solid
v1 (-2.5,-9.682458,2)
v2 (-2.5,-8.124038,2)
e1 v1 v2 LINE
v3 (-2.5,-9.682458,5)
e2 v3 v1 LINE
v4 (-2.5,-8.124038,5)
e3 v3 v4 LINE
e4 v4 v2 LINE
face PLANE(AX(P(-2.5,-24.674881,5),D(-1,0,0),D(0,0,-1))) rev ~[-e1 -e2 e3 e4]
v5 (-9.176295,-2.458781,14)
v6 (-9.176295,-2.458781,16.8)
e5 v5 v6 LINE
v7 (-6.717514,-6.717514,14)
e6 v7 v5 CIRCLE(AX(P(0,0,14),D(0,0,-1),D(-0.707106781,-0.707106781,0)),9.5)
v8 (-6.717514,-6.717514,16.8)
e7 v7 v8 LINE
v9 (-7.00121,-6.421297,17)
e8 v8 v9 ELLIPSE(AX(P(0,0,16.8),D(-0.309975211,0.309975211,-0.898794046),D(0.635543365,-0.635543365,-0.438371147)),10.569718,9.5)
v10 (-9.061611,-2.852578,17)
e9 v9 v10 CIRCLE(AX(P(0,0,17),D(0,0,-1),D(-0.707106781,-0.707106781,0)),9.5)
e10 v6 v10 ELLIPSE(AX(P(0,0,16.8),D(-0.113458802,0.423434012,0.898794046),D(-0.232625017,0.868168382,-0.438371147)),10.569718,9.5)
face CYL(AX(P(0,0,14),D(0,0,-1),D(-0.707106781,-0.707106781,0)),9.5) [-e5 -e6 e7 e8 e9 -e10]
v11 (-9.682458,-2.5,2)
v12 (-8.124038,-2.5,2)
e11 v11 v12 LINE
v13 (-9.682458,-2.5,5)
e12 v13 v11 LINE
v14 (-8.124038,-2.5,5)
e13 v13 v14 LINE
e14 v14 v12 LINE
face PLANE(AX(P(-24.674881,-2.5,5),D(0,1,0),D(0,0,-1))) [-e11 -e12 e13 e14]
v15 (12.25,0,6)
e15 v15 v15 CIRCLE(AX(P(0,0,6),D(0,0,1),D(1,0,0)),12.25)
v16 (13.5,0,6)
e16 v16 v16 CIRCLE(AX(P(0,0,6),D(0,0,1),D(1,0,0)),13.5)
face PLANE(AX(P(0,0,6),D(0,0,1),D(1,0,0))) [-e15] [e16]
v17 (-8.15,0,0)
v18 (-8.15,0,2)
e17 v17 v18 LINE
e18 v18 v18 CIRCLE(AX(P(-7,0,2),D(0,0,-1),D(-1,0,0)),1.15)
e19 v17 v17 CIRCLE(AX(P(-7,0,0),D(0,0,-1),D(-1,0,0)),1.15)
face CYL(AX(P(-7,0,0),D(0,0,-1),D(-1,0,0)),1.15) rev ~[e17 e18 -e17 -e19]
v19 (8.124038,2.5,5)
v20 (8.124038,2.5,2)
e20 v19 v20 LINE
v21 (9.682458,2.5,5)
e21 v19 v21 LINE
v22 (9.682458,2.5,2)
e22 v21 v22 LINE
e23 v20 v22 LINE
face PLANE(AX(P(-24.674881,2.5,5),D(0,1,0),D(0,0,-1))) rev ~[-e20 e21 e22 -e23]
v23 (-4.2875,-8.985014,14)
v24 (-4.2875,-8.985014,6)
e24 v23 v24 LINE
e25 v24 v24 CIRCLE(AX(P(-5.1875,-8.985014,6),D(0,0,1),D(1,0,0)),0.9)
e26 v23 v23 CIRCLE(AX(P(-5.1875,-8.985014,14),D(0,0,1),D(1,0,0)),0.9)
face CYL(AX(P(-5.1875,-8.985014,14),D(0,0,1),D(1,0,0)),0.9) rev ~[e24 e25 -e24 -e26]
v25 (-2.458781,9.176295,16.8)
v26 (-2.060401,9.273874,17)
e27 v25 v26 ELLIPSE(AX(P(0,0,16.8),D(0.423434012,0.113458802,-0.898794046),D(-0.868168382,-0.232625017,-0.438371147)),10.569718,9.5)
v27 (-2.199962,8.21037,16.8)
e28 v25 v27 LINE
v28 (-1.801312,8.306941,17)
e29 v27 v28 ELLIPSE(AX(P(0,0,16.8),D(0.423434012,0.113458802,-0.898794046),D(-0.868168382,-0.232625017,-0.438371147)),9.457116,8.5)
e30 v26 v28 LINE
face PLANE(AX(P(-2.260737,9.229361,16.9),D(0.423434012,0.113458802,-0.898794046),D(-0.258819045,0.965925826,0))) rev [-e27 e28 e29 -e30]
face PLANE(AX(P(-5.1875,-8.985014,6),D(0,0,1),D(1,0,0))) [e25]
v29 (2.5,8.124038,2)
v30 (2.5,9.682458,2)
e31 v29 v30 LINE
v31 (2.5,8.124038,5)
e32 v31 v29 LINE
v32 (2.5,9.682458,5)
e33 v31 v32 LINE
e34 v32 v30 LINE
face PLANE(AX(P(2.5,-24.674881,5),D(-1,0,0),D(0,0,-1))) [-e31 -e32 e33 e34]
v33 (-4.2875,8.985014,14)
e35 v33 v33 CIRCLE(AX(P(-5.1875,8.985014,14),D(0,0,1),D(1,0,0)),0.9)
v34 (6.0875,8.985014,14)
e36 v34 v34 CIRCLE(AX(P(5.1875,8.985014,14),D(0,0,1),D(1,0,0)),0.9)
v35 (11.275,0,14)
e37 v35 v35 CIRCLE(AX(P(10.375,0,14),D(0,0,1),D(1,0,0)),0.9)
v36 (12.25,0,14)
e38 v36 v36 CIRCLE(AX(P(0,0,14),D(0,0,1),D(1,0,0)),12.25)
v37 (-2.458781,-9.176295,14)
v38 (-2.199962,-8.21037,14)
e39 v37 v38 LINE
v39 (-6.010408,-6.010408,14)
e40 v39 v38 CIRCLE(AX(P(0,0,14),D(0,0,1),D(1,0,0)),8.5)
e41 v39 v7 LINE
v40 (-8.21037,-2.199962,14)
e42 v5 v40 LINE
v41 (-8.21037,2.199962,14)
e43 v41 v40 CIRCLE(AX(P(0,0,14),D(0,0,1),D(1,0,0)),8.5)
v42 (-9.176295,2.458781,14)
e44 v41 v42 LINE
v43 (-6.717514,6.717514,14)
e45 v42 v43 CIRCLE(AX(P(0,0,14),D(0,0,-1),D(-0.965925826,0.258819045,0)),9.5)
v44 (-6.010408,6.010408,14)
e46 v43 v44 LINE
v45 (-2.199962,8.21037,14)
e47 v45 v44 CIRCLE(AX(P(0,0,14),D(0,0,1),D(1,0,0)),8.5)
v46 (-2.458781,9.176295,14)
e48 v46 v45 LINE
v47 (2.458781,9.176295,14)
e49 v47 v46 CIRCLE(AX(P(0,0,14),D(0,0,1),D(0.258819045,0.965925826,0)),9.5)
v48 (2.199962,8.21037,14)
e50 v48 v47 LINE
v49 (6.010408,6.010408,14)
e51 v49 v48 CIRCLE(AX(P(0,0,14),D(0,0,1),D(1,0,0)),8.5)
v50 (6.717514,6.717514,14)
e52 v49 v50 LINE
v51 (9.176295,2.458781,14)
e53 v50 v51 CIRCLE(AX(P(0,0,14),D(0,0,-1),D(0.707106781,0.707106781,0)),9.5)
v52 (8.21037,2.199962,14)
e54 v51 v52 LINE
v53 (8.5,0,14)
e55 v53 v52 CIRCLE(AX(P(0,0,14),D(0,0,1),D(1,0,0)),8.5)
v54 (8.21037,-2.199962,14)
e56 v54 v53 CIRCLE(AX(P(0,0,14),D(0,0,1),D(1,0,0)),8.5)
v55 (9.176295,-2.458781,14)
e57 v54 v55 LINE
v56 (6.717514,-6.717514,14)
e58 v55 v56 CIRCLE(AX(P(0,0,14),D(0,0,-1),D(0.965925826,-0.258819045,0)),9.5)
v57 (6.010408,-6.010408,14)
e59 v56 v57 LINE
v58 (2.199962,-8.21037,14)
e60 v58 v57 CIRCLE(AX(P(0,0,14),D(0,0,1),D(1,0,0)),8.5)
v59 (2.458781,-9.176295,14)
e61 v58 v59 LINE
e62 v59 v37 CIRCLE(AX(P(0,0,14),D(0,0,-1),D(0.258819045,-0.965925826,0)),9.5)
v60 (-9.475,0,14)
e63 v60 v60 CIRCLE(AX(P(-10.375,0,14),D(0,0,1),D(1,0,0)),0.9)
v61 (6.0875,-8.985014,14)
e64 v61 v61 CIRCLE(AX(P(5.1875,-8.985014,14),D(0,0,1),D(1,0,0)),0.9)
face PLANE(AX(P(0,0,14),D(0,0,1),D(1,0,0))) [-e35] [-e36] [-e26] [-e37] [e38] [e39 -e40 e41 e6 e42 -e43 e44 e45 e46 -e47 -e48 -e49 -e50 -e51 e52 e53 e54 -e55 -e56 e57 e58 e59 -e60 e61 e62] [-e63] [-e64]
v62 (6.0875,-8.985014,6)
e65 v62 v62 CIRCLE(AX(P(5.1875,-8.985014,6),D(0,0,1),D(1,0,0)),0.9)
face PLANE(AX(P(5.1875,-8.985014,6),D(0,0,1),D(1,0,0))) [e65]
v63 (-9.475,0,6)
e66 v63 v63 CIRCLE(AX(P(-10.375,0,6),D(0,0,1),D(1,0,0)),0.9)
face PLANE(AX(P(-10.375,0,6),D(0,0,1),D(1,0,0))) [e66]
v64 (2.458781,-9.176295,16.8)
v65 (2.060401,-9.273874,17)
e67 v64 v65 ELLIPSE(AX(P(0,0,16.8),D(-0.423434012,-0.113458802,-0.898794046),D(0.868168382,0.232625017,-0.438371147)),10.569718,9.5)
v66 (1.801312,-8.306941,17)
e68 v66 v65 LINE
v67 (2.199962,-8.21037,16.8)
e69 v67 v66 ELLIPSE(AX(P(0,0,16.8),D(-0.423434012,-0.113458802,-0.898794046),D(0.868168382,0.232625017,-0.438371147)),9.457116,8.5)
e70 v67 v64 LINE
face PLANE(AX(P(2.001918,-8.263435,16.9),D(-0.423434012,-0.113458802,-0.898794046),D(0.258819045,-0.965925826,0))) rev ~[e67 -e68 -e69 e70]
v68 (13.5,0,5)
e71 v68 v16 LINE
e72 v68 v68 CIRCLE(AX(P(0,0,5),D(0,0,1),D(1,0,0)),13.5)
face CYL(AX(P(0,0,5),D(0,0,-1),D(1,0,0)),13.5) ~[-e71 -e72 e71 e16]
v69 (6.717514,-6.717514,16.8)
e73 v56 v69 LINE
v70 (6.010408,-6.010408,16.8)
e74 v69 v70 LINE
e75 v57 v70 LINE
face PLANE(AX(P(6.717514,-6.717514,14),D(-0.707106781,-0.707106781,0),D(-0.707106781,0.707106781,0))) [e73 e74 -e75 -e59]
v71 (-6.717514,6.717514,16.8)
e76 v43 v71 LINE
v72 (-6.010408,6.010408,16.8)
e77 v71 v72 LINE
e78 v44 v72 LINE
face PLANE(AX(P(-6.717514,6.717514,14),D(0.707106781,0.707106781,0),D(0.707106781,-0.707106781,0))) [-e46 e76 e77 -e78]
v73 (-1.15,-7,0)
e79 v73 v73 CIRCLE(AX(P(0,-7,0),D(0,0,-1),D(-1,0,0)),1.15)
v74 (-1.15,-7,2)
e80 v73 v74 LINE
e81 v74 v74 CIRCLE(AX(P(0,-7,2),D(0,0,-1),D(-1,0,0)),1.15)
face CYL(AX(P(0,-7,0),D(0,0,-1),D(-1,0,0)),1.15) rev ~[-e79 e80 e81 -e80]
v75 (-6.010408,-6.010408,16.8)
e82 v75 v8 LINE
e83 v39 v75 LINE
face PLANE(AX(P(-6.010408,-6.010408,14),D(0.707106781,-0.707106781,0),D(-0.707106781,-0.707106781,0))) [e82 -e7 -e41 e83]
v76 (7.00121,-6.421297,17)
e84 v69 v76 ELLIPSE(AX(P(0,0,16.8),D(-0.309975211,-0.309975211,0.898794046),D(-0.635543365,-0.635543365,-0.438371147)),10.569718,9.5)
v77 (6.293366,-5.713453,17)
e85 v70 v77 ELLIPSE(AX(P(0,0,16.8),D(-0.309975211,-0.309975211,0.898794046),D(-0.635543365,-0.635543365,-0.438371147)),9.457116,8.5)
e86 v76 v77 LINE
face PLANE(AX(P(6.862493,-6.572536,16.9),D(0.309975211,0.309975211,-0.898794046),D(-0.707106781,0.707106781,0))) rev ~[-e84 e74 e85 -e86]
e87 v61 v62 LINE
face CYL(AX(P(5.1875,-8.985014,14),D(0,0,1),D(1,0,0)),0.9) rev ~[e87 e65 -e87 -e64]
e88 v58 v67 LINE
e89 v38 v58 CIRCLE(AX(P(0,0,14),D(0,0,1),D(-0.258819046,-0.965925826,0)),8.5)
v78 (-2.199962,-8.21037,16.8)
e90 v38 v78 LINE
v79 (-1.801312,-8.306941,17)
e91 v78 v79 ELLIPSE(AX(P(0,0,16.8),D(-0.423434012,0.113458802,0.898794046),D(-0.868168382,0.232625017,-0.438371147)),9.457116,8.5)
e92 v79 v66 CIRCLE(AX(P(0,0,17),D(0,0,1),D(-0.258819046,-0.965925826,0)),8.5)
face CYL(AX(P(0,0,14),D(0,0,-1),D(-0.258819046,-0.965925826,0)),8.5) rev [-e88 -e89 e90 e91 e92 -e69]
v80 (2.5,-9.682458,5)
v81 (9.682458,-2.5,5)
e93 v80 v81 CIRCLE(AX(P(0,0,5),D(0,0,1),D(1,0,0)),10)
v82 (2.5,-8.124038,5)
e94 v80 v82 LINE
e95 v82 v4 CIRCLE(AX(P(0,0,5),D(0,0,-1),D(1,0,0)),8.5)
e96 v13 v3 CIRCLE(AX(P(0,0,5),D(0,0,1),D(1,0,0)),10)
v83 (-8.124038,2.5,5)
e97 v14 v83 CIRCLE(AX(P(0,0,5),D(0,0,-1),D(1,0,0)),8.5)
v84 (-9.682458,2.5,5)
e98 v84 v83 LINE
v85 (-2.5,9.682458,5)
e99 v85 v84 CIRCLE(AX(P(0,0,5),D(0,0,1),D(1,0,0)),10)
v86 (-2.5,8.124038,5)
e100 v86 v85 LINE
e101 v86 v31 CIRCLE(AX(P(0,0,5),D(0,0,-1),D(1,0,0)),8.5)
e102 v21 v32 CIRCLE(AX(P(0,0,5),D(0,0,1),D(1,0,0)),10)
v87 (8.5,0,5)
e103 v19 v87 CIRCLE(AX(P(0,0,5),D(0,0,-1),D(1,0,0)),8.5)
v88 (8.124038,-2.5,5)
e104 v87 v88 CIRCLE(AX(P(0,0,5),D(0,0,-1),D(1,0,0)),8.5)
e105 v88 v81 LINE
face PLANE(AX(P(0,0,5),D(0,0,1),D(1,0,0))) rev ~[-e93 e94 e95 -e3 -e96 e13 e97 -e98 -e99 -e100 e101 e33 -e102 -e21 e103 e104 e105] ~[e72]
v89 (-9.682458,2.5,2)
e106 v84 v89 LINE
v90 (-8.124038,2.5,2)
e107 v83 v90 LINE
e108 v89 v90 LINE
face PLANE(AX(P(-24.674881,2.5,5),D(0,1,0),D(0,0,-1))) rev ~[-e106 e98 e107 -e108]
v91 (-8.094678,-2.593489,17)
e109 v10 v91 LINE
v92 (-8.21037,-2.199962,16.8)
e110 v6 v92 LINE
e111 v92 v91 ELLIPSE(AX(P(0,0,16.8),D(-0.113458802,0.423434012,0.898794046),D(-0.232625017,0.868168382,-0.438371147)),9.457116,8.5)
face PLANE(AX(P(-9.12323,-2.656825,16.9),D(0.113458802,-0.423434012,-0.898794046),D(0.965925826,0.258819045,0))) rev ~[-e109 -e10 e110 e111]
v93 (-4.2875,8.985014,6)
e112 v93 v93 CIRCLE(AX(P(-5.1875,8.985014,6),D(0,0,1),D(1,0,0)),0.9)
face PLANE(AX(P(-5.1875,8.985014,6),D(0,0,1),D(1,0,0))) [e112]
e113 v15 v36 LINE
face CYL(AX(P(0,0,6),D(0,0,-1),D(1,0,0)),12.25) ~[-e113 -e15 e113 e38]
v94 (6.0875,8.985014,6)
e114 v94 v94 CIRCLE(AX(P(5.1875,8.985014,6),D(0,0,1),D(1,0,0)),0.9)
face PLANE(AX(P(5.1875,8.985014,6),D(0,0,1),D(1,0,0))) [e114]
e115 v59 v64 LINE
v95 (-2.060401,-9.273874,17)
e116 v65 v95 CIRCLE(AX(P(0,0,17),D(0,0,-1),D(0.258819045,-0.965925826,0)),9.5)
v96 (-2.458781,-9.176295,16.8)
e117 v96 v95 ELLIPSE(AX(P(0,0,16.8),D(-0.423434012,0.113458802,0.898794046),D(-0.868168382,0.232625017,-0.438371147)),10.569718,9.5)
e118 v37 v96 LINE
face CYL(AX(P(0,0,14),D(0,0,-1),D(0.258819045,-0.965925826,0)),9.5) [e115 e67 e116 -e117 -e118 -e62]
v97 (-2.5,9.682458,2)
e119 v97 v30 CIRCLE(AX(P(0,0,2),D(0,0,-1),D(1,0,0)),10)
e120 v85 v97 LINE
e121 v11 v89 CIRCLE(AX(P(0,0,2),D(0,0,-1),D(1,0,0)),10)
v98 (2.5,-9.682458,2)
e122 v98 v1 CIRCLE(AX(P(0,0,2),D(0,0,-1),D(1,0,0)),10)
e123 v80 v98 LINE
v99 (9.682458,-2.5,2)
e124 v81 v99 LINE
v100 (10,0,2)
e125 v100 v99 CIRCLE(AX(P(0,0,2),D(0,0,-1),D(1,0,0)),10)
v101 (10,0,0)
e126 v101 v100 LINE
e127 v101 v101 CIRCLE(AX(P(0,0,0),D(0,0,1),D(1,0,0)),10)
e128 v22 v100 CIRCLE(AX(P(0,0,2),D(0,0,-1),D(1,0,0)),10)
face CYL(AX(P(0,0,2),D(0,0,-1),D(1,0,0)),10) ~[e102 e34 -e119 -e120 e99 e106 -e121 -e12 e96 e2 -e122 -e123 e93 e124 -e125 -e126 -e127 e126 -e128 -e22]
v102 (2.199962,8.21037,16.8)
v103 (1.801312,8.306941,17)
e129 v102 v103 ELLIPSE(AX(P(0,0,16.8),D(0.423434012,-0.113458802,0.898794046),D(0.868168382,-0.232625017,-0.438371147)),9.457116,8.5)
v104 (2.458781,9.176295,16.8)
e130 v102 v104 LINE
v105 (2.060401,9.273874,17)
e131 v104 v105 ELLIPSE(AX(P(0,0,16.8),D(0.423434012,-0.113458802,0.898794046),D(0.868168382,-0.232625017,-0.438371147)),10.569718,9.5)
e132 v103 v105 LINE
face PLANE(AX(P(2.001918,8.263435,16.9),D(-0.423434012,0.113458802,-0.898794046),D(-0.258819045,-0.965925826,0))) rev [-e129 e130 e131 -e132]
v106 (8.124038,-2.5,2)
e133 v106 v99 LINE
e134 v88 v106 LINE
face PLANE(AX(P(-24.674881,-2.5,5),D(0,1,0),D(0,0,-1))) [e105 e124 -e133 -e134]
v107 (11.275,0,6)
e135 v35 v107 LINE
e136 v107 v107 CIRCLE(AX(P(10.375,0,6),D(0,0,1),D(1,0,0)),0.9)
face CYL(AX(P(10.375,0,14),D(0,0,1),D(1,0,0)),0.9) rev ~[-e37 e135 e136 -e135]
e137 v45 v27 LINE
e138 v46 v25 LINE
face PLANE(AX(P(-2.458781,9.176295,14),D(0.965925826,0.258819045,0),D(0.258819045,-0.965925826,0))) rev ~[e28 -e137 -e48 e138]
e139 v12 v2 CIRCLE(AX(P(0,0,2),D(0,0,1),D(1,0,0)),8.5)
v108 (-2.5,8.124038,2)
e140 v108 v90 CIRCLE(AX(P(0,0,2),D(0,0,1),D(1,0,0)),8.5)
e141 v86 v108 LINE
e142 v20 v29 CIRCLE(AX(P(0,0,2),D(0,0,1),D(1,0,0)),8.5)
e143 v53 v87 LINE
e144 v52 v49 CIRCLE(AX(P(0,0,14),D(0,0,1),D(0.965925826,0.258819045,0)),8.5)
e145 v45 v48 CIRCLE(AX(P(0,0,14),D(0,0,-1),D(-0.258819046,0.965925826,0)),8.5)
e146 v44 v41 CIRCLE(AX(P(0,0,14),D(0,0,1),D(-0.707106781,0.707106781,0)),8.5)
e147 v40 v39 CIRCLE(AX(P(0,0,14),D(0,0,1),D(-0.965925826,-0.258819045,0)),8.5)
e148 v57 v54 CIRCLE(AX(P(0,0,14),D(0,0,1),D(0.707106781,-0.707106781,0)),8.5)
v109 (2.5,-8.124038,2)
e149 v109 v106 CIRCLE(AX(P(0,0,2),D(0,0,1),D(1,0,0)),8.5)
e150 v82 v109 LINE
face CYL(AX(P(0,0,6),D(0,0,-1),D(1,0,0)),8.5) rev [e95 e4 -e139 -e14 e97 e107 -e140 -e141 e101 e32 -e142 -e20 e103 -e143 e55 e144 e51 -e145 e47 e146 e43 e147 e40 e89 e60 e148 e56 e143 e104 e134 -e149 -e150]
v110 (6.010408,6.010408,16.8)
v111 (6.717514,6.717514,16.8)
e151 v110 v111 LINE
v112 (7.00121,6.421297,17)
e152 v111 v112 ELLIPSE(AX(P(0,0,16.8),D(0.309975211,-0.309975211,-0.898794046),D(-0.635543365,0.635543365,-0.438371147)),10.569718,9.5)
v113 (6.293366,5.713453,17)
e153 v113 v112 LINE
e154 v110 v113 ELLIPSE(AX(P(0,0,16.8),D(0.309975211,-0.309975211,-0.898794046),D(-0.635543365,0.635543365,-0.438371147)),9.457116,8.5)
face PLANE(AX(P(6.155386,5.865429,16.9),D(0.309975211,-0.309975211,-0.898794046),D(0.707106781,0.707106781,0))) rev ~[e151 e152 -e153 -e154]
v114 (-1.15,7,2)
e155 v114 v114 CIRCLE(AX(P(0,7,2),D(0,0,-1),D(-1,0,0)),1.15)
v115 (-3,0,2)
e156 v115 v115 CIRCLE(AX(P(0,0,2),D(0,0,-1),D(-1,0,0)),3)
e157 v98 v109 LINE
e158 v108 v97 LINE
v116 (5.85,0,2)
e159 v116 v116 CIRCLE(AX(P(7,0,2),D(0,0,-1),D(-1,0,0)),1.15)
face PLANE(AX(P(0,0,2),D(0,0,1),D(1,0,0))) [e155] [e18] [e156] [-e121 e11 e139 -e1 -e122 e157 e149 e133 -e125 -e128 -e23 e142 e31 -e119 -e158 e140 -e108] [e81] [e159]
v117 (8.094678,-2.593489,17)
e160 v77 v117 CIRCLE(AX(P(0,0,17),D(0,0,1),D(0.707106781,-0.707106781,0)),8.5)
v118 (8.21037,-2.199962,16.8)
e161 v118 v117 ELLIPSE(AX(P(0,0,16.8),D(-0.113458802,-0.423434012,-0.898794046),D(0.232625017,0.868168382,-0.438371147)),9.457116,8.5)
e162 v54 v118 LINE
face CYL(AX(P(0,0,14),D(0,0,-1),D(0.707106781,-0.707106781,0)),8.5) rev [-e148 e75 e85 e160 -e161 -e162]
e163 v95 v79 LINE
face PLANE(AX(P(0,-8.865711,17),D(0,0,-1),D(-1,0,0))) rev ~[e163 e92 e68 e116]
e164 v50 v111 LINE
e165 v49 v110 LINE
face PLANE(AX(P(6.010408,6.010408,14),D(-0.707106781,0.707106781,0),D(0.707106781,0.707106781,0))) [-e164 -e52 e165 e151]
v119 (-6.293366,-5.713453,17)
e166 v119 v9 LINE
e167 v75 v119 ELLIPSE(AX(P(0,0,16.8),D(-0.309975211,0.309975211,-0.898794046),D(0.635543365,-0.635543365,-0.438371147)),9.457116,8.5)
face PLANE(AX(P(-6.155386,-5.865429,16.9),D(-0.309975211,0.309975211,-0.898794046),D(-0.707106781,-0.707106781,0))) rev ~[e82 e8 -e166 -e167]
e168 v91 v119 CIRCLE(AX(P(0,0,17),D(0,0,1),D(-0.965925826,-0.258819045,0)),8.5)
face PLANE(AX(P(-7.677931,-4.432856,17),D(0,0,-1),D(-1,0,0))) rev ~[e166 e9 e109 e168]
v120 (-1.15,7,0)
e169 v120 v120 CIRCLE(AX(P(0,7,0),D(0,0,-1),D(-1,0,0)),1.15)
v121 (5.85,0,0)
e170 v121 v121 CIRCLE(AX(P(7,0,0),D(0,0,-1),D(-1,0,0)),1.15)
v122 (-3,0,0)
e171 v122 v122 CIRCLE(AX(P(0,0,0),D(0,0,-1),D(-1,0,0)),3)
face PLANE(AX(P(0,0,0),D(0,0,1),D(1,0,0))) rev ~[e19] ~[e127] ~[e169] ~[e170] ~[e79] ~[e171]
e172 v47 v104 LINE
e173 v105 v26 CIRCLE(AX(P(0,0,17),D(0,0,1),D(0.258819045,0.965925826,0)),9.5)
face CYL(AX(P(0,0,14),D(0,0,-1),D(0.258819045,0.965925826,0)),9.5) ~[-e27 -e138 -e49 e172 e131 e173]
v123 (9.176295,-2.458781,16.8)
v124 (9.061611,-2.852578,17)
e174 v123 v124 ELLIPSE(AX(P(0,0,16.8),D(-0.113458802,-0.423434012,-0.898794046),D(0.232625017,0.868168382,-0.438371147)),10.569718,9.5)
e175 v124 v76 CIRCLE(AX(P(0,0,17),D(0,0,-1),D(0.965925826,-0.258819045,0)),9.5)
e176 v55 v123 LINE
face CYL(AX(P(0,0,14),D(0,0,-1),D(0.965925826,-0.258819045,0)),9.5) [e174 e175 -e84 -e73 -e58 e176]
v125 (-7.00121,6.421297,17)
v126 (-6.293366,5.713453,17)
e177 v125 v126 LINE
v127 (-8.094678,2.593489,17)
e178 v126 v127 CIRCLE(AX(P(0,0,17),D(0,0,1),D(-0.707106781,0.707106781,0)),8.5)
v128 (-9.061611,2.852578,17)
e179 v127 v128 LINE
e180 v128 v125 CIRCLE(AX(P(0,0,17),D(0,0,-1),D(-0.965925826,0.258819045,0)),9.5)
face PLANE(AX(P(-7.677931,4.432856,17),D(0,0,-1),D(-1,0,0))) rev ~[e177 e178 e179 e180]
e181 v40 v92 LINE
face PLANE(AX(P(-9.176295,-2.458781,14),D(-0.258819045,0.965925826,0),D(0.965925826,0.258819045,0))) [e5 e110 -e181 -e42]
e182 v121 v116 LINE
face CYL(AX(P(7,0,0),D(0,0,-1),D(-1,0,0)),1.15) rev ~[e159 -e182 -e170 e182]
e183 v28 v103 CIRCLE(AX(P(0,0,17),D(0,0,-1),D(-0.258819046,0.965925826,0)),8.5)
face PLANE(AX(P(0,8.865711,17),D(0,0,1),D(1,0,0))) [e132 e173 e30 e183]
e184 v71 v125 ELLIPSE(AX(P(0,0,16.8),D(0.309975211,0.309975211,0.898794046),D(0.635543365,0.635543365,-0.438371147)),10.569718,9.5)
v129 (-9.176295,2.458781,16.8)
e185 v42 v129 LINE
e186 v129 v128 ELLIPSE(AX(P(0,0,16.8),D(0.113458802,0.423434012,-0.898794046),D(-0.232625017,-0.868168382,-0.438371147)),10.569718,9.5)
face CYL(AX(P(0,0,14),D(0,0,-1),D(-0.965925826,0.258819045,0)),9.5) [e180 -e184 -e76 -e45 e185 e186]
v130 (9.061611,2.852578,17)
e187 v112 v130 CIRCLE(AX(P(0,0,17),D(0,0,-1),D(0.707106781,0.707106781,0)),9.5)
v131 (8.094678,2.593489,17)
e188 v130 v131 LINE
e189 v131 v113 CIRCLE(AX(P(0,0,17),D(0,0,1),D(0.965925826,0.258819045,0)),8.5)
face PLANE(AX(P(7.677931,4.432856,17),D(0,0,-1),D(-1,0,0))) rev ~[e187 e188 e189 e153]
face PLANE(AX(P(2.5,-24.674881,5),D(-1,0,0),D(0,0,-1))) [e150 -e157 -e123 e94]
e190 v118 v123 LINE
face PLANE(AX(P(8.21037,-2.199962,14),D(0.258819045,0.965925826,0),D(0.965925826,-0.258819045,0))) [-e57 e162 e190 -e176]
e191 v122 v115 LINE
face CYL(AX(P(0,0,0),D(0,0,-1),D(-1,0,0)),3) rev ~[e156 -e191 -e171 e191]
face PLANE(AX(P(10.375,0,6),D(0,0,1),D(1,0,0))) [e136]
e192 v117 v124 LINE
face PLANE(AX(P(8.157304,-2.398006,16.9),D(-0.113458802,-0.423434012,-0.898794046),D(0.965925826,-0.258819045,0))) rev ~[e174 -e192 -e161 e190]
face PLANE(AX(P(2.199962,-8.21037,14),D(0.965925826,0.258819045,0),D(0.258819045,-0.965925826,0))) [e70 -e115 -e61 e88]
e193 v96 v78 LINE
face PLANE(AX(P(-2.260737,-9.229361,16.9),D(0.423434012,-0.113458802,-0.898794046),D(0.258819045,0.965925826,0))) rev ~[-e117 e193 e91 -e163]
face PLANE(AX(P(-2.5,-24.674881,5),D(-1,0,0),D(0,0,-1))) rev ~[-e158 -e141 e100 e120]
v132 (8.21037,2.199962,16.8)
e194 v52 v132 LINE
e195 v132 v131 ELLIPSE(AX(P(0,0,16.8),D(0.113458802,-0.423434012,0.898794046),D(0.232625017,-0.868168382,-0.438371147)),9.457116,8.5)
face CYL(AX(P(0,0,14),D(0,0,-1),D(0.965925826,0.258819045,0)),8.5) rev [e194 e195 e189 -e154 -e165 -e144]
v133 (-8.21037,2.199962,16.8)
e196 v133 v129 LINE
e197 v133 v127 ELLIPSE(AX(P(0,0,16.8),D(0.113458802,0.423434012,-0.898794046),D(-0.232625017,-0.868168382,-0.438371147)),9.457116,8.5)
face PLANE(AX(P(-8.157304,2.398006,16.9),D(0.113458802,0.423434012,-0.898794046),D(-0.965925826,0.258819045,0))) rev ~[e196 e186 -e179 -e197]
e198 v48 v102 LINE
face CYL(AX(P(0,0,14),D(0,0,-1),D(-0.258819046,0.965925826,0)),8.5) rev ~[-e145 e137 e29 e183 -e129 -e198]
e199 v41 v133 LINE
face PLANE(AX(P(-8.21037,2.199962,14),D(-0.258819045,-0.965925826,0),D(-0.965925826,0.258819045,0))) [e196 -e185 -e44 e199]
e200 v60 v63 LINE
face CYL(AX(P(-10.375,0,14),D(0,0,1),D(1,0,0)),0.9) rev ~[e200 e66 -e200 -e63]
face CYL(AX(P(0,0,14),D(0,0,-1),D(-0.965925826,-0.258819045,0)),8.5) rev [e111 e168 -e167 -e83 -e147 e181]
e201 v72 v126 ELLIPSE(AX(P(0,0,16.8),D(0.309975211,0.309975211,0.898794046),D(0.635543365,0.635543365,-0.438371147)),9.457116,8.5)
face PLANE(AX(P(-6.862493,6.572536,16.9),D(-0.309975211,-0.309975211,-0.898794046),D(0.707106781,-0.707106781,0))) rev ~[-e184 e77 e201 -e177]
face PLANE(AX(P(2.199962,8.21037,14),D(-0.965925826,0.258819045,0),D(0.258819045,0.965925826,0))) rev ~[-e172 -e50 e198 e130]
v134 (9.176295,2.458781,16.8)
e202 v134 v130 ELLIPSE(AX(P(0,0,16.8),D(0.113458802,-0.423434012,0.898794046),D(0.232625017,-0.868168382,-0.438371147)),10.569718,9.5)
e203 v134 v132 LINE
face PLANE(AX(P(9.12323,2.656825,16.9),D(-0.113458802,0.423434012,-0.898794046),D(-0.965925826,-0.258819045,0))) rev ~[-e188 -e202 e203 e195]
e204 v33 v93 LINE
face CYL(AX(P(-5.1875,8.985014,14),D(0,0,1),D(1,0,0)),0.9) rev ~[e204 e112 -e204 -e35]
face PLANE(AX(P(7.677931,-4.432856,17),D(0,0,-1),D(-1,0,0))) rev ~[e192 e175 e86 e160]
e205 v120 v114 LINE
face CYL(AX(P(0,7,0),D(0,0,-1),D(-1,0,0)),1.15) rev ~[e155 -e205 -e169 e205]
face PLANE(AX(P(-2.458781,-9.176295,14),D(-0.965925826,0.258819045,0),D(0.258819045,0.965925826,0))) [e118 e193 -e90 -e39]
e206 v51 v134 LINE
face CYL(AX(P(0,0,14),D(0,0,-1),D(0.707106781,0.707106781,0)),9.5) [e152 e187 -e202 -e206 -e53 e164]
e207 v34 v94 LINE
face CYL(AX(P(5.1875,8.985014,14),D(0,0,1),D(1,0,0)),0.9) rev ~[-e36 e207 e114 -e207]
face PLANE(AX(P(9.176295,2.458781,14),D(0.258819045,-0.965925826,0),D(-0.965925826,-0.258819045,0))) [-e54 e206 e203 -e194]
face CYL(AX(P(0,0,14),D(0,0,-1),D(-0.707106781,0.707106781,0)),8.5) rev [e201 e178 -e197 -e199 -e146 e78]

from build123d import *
from OCP.BRepFilletAPI import BRepFilletAPI_MakeChamfer

# Parameters (mm, degrees)
SKETCH_1_R               = 10
EXTRUDE_1_DEPTH          = 2
SKETCH_2_R               = 10
SKETCH_2_R_2             = 8.5
EXTRUDE_2_DEPTH          = 3
SKETCH_4_R               = 13.5
SKETCH_4_R_2             = 8.5
EXTRUDE_3_DEPTH          = 1
SKETCH_5_R               = 12.25
SKETCH_5_R_2             = 8.5
EXTRUDE_4_DEPTH          = 8
SKETCH_6_R               = 0.9
CUT_EXTRUDE_1_DEPTH      = 8
SKETCH_7_R               = 3
SKETCH_7_R_2             = 1.15
CUT_EXTRUDE_2_DEPTH      = 24.674881204
CUT_EXTRUDE_3_DEPTH      = 24.674881204
CUT_EXTRUDE_3_DEPTH_BACK = 24.674881204
SKETCH_8_W               = 5
SKETCH_8_H               = 3
CUT_EXTRUDE_4_DEPTH      = 24.674881204
CUT_EXTRUDE_4_DEPTH_BACK = 24.674881204
SKETCH_9_W               = 3
SKETCH_9_H               = 5
EXTRUDE_5_DEPTH          = 3
CHAMFER_1_SIZE           = 0.2
CHAMFER_1_SIZE2          = 0.410060768


with BuildPart() as part:
    # 스케치1 → 보스-돌출1 (new body)
    with BuildSketch(Plane.XY):
        Circle(SKETCH_1_R)
    extrude(amount=EXTRUDE_1_DEPTH)

    # 스케치2 → 보스-돌출2 (add)
    with BuildSketch(Plane.XY.offset(2)):
        Circle(SKETCH_2_R)
        Circle(SKETCH_2_R_2, mode=Mode.SUBTRACT)
    extrude(amount=EXTRUDE_2_DEPTH)

    # 스케치4 → 보스-돌출3 (add)
    with BuildSketch(Plane.XY.offset(5)):
        Circle(SKETCH_4_R)
        Circle(SKETCH_4_R_2, mode=Mode.SUBTRACT)
    extrude(amount=EXTRUDE_3_DEPTH)

    # 스케치5 → 보스-돌출4 (add)
    with BuildSketch(Plane.XY.offset(6)):
        Circle(SKETCH_5_R)
        Circle(SKETCH_5_R_2, mode=Mode.SUBTRACT)
    extrude(amount=EXTRUDE_4_DEPTH)

    # 스케치6 → 컷-돌출1 (cut)
    with BuildSketch(Plane.XY.offset(14)):
        with Locations((10.375, 0)):
            Circle(SKETCH_6_R)
        with Locations((5.1875, -8.985013564)):
            Circle(SKETCH_6_R)
        with Locations((-5.1875, -8.985013564)):
            Circle(SKETCH_6_R)
        with Locations((-10.375, 0)):
            Circle(SKETCH_6_R)
        with Locations((-5.1875, 8.985013564)):
            Circle(SKETCH_6_R)
        with Locations((5.1875, 8.985013564)):
            Circle(SKETCH_6_R)
    extrude(amount=-CUT_EXTRUDE_1_DEPTH, mode=Mode.SUBTRACT)

    # 스케치7 → 컷-돌출2 (cut, through all)
    with BuildSketch(Plane(origin=(0, 0, 0), x_dir=(-1, 0, 0), z_dir=(0, 0, -1))):
        Circle(SKETCH_7_R)
        with Locations((-7, 0)):
            Circle(SKETCH_7_R_2)
        with Locations((7, 0)):
            Circle(SKETCH_7_R_2)
        with Locations((0, 7)):
            Circle(SKETCH_7_R_2)
        with Locations((0, -7)):
            Circle(SKETCH_7_R_2)
    extrude(amount=-CUT_EXTRUDE_2_DEPTH, mode=Mode.SUBTRACT)

    # 스케치8 → 컷-돌출3 (cut, two sides: drawn at the far end of the back side and taken through both)
    with BuildSketch(Plane(origin=(0, 0, 0), x_dir=(1, 0, 0), z_dir=(0, 1, 0)).offset(-CUT_EXTRUDE_3_DEPTH_BACK)):
        with Locations((0, -3.5)):
            Rectangle(SKETCH_8_W, SKETCH_8_H)
    extrude(amount=CUT_EXTRUDE_3_DEPTH + CUT_EXTRUDE_3_DEPTH_BACK, mode=Mode.SUBTRACT)

    # 스케치9 → 컷-돌출4 (cut, two sides: drawn at the far end of the back side and taken through both)
    with BuildSketch(Plane(origin=(0, 0, 0), x_dir=(0, 0, -1), z_dir=(1, 0, 0)).offset(-CUT_EXTRUDE_4_DEPTH_BACK)):
        with Locations((-3.5, 0)):
            Rectangle(SKETCH_9_W, SKETCH_9_H)
    extrude(amount=CUT_EXTRUDE_4_DEPTH + CUT_EXTRUDE_4_DEPTH_BACK, mode=Mode.SUBTRACT)

    # 스케치10 → 보스-돌출5 (add)
    with BuildSketch(Plane.XY.offset(14)):
        with BuildLine():
            Line((2.199961883, 8.210369523), (2.458780928, 9.17629535))
            ThreePointArc((2.458780928, 9.17629535), (0, 9.5), (-2.458780928, 9.17629535))
            Line((-2.458780928, 9.17629535), (-2.199961883, 8.210369523))
            ThreePointArc((-2.199961883, 8.210369523), (0, 8.5), (2.199961883, 8.210369523))
        make_face()
        with BuildLine():
            Line((6.01040764, 6.01040764), (6.717514421, 6.717514421))
            ThreePointArc((6.717514421, 6.717514421), (8.227241336, 4.75), (9.17629535, 2.458780928))
            Line((9.17629535, 2.458780928), (8.210369523, 2.199961883))
            ThreePointArc((8.210369523, 2.199961883), (7.361215932, 4.25), (6.01040764, 6.01040764))
        make_face()
        with BuildLine():
            Line((8.210369523, -2.199961883), (9.17629535, -2.458780928))
            ThreePointArc((9.17629535, -2.458780928), (8.227241336, -4.75), (6.717514421, -6.717514421))
            Line((6.717514421, -6.717514421), (6.01040764, -6.01040764))
            ThreePointArc((6.01040764, -6.01040764), (7.361215932, -4.25), (8.210369523, -2.199961883))
        make_face()
        with BuildLine():
            Line((2.199961883, -8.210369523), (2.458780928, -9.17629535))
            ThreePointArc((2.458780928, -9.17629535), (0, -9.5), (-2.458780928, -9.17629535))
            Line((-2.458780928, -9.17629535), (-2.199961883, -8.210369523))
            ThreePointArc((-2.199961883, -8.210369523), (0, -8.5), (2.199961883, -8.210369523))
        make_face()
        with BuildLine():
            Line((-6.01040764, -6.01040764), (-6.717514421, -6.717514421))
            ThreePointArc((-6.717514421, -6.717514421), (-8.227241336, -4.75), (-9.17629535, -2.458780928))
            Line((-9.17629535, -2.458780928), (-8.210369523, -2.199961883))
            ThreePointArc((-8.210369523, -2.199961883), (-7.361215932, -4.25), (-6.01040764, -6.01040764))
        make_face()
        with BuildLine():
            Line((-8.210369523, 2.199961883), (-9.17629535, 2.458780928))
            ThreePointArc((-9.17629535, 2.458780928), (-8.227241336, 4.75), (-6.717514421, 6.717514421))
            Line((-6.717514421, 6.717514421), (-6.01040764, 6.01040764))
            ThreePointArc((-6.01040764, 6.01040764), (-7.361215932, 4.25), (-8.210369523, 2.199961883))
        make_face()
    extrude(amount=EXTRUDE_5_DEPTH)

    # 모따기1: one chamfer whose edges measure the first distance from different faces: ONE call of the kernel's chamfer builder (chamfer() names one face for all edges)
    chamfer_1_edges_1 = [part.edges().sort_by_distance(p)[0] for p in [
        (-6.363961031, 6.363961031, 17),
    ]]
    chamfer_1_side_1 = [part.faces().sort_by_distance(p)[0] for p in [
        (-6.363961031, 6.363961031, 15.5),
    ]]
    chamfer_1_edges_2 = [part.edges().sort_by_distance(p)[0] for p in [
        (-8.693332437, 2.329371406, 17),
    ]]
    chamfer_1_side_2 = [part.faces().sort_by_distance(p)[0] for p in [
        (-8.693332437, 2.329371406, 15.5),
    ]]
    chamfer_1_edges_3 = [part.edges().sort_by_distance(p)[0] for p in [
        (-8.693332437, -2.329371406, 17),
    ]]
    chamfer_1_side_3 = [part.faces().sort_by_distance(p)[0] for p in [
        (-8.693332437, -2.329371406, 15.5),
    ]]
    chamfer_1_edges_4 = [part.edges().sort_by_distance(p)[0] for p in [
        (-6.363961031, -6.363961031, 17),
    ]]
    chamfer_1_side_4 = [part.faces().sort_by_distance(p)[0] for p in [
        (-6.363961031, -6.363961031, 15.5),
    ]]
    chamfer_1_edges_5 = [part.edges().sort_by_distance(p)[0] for p in [
        (-2.329371406, 8.693332437, 17),
    ]]
    chamfer_1_side_5 = [part.faces().sort_by_distance(p)[0] for p in [
        (-2.329371406, 8.693332437, 15.5),
    ]]
    chamfer_1_edges_6 = [part.edges().sort_by_distance(p)[0] for p in [
        (2.329371406, 8.693332437, 17),
    ]]
    chamfer_1_side_6 = [part.faces().sort_by_distance(p)[0] for p in [
        (2.329371406, 8.693332437, 15.5),
    ]]
    chamfer_1_edges_7 = [part.edges().sort_by_distance(p)[0] for p in [
        (-2.329371406, -8.693332437, 17),
    ]]
    chamfer_1_side_7 = [part.faces().sort_by_distance(p)[0] for p in [
        (-2.329371406, -8.693332437, 15.5),
    ]]
    chamfer_1_edges_8 = [part.edges().sort_by_distance(p)[0] for p in [
        (2.329371406, -8.693332437, 17),
    ]]
    chamfer_1_side_8 = [part.faces().sort_by_distance(p)[0] for p in [
        (2.329371406, -8.693332437, 15.5),
    ]]
    chamfer_1_edges_9 = [part.edges().sort_by_distance(p)[0] for p in [
        (6.363961031, 6.363961031, 17),
    ]]
    chamfer_1_side_9 = [part.faces().sort_by_distance(p)[0] for p in [
        (6.363961031, 6.363961031, 15.5),
    ]]
    chamfer_1_edges_10 = [part.edges().sort_by_distance(p)[0] for p in [
        (8.693332437, 2.329371406, 17),
    ]]
    chamfer_1_side_10 = [part.faces().sort_by_distance(p)[0] for p in [
        (8.693332437, 2.329371406, 15.5),
    ]]
    chamfer_1_edges_11 = [part.edges().sort_by_distance(p)[0] for p in [
        (6.363961031, -6.363961031, 17),
    ]]
    chamfer_1_side_11 = [part.faces().sort_by_distance(p)[0] for p in [
        (6.363961031, -6.363961031, 15.5),
    ]]
    chamfer_1_edges_12 = [part.edges().sort_by_distance(p)[0] for p in [
        (8.693332437, -2.329371406, 17),
    ]]
    chamfer_1_side_12 = [part.faces().sort_by_distance(p)[0] for p in [
        (8.693332437, -2.329371406, 15.5),
    ]]
    chamfer_1 = BRepFilletAPI_MakeChamfer(part.part.solid().wrapped)
    for e in chamfer_1_edges_1:
        chamfer_1.Add(CHAMFER_1_SIZE, CHAMFER_1_SIZE2, e.wrapped, chamfer_1_side_1[0].wrapped)  # the first distance lies on this face
    for e in chamfer_1_edges_2:
        chamfer_1.Add(CHAMFER_1_SIZE, CHAMFER_1_SIZE2, e.wrapped, chamfer_1_side_2[0].wrapped)  # the first distance lies on this face
    for e in chamfer_1_edges_3:
        chamfer_1.Add(CHAMFER_1_SIZE, CHAMFER_1_SIZE2, e.wrapped, chamfer_1_side_3[0].wrapped)  # the first distance lies on this face
    for e in chamfer_1_edges_4:
        chamfer_1.Add(CHAMFER_1_SIZE, CHAMFER_1_SIZE2, e.wrapped, chamfer_1_side_4[0].wrapped)  # the first distance lies on this face
    for e in chamfer_1_edges_5:
        chamfer_1.Add(CHAMFER_1_SIZE, CHAMFER_1_SIZE2, e.wrapped, chamfer_1_side_5[0].wrapped)  # the first distance lies on this face
    for e in chamfer_1_edges_6:
        chamfer_1.Add(CHAMFER_1_SIZE, CHAMFER_1_SIZE2, e.wrapped, chamfer_1_side_6[0].wrapped)  # the first distance lies on this face
    for e in chamfer_1_edges_7:
        chamfer_1.Add(CHAMFER_1_SIZE, CHAMFER_1_SIZE2, e.wrapped, chamfer_1_side_7[0].wrapped)  # the first distance lies on this face
    for e in chamfer_1_edges_8:
        chamfer_1.Add(CHAMFER_1_SIZE, CHAMFER_1_SIZE2, e.wrapped, chamfer_1_side_8[0].wrapped)  # the first distance lies on this face
    for e in chamfer_1_edges_9:
        chamfer_1.Add(CHAMFER_1_SIZE, CHAMFER_1_SIZE2, e.wrapped, chamfer_1_side_9[0].wrapped)  # the first distance lies on this face
    for e in chamfer_1_edges_10:
        chamfer_1.Add(CHAMFER_1_SIZE, CHAMFER_1_SIZE2, e.wrapped, chamfer_1_side_10[0].wrapped)  # the first distance lies on this face
    for e in chamfer_1_edges_11:
        chamfer_1.Add(CHAMFER_1_SIZE, CHAMFER_1_SIZE2, e.wrapped, chamfer_1_side_11[0].wrapped)  # the first distance lies on this face
    for e in chamfer_1_edges_12:
        chamfer_1.Add(CHAMFER_1_SIZE, CHAMFER_1_SIZE2, e.wrapped, chamfer_1_side_12[0].wrapped)  # the first distance lies on this face
    add(Compound.cast(chamfer_1.Shape()), mode=Mode.REPLACE)


solid = part.part
